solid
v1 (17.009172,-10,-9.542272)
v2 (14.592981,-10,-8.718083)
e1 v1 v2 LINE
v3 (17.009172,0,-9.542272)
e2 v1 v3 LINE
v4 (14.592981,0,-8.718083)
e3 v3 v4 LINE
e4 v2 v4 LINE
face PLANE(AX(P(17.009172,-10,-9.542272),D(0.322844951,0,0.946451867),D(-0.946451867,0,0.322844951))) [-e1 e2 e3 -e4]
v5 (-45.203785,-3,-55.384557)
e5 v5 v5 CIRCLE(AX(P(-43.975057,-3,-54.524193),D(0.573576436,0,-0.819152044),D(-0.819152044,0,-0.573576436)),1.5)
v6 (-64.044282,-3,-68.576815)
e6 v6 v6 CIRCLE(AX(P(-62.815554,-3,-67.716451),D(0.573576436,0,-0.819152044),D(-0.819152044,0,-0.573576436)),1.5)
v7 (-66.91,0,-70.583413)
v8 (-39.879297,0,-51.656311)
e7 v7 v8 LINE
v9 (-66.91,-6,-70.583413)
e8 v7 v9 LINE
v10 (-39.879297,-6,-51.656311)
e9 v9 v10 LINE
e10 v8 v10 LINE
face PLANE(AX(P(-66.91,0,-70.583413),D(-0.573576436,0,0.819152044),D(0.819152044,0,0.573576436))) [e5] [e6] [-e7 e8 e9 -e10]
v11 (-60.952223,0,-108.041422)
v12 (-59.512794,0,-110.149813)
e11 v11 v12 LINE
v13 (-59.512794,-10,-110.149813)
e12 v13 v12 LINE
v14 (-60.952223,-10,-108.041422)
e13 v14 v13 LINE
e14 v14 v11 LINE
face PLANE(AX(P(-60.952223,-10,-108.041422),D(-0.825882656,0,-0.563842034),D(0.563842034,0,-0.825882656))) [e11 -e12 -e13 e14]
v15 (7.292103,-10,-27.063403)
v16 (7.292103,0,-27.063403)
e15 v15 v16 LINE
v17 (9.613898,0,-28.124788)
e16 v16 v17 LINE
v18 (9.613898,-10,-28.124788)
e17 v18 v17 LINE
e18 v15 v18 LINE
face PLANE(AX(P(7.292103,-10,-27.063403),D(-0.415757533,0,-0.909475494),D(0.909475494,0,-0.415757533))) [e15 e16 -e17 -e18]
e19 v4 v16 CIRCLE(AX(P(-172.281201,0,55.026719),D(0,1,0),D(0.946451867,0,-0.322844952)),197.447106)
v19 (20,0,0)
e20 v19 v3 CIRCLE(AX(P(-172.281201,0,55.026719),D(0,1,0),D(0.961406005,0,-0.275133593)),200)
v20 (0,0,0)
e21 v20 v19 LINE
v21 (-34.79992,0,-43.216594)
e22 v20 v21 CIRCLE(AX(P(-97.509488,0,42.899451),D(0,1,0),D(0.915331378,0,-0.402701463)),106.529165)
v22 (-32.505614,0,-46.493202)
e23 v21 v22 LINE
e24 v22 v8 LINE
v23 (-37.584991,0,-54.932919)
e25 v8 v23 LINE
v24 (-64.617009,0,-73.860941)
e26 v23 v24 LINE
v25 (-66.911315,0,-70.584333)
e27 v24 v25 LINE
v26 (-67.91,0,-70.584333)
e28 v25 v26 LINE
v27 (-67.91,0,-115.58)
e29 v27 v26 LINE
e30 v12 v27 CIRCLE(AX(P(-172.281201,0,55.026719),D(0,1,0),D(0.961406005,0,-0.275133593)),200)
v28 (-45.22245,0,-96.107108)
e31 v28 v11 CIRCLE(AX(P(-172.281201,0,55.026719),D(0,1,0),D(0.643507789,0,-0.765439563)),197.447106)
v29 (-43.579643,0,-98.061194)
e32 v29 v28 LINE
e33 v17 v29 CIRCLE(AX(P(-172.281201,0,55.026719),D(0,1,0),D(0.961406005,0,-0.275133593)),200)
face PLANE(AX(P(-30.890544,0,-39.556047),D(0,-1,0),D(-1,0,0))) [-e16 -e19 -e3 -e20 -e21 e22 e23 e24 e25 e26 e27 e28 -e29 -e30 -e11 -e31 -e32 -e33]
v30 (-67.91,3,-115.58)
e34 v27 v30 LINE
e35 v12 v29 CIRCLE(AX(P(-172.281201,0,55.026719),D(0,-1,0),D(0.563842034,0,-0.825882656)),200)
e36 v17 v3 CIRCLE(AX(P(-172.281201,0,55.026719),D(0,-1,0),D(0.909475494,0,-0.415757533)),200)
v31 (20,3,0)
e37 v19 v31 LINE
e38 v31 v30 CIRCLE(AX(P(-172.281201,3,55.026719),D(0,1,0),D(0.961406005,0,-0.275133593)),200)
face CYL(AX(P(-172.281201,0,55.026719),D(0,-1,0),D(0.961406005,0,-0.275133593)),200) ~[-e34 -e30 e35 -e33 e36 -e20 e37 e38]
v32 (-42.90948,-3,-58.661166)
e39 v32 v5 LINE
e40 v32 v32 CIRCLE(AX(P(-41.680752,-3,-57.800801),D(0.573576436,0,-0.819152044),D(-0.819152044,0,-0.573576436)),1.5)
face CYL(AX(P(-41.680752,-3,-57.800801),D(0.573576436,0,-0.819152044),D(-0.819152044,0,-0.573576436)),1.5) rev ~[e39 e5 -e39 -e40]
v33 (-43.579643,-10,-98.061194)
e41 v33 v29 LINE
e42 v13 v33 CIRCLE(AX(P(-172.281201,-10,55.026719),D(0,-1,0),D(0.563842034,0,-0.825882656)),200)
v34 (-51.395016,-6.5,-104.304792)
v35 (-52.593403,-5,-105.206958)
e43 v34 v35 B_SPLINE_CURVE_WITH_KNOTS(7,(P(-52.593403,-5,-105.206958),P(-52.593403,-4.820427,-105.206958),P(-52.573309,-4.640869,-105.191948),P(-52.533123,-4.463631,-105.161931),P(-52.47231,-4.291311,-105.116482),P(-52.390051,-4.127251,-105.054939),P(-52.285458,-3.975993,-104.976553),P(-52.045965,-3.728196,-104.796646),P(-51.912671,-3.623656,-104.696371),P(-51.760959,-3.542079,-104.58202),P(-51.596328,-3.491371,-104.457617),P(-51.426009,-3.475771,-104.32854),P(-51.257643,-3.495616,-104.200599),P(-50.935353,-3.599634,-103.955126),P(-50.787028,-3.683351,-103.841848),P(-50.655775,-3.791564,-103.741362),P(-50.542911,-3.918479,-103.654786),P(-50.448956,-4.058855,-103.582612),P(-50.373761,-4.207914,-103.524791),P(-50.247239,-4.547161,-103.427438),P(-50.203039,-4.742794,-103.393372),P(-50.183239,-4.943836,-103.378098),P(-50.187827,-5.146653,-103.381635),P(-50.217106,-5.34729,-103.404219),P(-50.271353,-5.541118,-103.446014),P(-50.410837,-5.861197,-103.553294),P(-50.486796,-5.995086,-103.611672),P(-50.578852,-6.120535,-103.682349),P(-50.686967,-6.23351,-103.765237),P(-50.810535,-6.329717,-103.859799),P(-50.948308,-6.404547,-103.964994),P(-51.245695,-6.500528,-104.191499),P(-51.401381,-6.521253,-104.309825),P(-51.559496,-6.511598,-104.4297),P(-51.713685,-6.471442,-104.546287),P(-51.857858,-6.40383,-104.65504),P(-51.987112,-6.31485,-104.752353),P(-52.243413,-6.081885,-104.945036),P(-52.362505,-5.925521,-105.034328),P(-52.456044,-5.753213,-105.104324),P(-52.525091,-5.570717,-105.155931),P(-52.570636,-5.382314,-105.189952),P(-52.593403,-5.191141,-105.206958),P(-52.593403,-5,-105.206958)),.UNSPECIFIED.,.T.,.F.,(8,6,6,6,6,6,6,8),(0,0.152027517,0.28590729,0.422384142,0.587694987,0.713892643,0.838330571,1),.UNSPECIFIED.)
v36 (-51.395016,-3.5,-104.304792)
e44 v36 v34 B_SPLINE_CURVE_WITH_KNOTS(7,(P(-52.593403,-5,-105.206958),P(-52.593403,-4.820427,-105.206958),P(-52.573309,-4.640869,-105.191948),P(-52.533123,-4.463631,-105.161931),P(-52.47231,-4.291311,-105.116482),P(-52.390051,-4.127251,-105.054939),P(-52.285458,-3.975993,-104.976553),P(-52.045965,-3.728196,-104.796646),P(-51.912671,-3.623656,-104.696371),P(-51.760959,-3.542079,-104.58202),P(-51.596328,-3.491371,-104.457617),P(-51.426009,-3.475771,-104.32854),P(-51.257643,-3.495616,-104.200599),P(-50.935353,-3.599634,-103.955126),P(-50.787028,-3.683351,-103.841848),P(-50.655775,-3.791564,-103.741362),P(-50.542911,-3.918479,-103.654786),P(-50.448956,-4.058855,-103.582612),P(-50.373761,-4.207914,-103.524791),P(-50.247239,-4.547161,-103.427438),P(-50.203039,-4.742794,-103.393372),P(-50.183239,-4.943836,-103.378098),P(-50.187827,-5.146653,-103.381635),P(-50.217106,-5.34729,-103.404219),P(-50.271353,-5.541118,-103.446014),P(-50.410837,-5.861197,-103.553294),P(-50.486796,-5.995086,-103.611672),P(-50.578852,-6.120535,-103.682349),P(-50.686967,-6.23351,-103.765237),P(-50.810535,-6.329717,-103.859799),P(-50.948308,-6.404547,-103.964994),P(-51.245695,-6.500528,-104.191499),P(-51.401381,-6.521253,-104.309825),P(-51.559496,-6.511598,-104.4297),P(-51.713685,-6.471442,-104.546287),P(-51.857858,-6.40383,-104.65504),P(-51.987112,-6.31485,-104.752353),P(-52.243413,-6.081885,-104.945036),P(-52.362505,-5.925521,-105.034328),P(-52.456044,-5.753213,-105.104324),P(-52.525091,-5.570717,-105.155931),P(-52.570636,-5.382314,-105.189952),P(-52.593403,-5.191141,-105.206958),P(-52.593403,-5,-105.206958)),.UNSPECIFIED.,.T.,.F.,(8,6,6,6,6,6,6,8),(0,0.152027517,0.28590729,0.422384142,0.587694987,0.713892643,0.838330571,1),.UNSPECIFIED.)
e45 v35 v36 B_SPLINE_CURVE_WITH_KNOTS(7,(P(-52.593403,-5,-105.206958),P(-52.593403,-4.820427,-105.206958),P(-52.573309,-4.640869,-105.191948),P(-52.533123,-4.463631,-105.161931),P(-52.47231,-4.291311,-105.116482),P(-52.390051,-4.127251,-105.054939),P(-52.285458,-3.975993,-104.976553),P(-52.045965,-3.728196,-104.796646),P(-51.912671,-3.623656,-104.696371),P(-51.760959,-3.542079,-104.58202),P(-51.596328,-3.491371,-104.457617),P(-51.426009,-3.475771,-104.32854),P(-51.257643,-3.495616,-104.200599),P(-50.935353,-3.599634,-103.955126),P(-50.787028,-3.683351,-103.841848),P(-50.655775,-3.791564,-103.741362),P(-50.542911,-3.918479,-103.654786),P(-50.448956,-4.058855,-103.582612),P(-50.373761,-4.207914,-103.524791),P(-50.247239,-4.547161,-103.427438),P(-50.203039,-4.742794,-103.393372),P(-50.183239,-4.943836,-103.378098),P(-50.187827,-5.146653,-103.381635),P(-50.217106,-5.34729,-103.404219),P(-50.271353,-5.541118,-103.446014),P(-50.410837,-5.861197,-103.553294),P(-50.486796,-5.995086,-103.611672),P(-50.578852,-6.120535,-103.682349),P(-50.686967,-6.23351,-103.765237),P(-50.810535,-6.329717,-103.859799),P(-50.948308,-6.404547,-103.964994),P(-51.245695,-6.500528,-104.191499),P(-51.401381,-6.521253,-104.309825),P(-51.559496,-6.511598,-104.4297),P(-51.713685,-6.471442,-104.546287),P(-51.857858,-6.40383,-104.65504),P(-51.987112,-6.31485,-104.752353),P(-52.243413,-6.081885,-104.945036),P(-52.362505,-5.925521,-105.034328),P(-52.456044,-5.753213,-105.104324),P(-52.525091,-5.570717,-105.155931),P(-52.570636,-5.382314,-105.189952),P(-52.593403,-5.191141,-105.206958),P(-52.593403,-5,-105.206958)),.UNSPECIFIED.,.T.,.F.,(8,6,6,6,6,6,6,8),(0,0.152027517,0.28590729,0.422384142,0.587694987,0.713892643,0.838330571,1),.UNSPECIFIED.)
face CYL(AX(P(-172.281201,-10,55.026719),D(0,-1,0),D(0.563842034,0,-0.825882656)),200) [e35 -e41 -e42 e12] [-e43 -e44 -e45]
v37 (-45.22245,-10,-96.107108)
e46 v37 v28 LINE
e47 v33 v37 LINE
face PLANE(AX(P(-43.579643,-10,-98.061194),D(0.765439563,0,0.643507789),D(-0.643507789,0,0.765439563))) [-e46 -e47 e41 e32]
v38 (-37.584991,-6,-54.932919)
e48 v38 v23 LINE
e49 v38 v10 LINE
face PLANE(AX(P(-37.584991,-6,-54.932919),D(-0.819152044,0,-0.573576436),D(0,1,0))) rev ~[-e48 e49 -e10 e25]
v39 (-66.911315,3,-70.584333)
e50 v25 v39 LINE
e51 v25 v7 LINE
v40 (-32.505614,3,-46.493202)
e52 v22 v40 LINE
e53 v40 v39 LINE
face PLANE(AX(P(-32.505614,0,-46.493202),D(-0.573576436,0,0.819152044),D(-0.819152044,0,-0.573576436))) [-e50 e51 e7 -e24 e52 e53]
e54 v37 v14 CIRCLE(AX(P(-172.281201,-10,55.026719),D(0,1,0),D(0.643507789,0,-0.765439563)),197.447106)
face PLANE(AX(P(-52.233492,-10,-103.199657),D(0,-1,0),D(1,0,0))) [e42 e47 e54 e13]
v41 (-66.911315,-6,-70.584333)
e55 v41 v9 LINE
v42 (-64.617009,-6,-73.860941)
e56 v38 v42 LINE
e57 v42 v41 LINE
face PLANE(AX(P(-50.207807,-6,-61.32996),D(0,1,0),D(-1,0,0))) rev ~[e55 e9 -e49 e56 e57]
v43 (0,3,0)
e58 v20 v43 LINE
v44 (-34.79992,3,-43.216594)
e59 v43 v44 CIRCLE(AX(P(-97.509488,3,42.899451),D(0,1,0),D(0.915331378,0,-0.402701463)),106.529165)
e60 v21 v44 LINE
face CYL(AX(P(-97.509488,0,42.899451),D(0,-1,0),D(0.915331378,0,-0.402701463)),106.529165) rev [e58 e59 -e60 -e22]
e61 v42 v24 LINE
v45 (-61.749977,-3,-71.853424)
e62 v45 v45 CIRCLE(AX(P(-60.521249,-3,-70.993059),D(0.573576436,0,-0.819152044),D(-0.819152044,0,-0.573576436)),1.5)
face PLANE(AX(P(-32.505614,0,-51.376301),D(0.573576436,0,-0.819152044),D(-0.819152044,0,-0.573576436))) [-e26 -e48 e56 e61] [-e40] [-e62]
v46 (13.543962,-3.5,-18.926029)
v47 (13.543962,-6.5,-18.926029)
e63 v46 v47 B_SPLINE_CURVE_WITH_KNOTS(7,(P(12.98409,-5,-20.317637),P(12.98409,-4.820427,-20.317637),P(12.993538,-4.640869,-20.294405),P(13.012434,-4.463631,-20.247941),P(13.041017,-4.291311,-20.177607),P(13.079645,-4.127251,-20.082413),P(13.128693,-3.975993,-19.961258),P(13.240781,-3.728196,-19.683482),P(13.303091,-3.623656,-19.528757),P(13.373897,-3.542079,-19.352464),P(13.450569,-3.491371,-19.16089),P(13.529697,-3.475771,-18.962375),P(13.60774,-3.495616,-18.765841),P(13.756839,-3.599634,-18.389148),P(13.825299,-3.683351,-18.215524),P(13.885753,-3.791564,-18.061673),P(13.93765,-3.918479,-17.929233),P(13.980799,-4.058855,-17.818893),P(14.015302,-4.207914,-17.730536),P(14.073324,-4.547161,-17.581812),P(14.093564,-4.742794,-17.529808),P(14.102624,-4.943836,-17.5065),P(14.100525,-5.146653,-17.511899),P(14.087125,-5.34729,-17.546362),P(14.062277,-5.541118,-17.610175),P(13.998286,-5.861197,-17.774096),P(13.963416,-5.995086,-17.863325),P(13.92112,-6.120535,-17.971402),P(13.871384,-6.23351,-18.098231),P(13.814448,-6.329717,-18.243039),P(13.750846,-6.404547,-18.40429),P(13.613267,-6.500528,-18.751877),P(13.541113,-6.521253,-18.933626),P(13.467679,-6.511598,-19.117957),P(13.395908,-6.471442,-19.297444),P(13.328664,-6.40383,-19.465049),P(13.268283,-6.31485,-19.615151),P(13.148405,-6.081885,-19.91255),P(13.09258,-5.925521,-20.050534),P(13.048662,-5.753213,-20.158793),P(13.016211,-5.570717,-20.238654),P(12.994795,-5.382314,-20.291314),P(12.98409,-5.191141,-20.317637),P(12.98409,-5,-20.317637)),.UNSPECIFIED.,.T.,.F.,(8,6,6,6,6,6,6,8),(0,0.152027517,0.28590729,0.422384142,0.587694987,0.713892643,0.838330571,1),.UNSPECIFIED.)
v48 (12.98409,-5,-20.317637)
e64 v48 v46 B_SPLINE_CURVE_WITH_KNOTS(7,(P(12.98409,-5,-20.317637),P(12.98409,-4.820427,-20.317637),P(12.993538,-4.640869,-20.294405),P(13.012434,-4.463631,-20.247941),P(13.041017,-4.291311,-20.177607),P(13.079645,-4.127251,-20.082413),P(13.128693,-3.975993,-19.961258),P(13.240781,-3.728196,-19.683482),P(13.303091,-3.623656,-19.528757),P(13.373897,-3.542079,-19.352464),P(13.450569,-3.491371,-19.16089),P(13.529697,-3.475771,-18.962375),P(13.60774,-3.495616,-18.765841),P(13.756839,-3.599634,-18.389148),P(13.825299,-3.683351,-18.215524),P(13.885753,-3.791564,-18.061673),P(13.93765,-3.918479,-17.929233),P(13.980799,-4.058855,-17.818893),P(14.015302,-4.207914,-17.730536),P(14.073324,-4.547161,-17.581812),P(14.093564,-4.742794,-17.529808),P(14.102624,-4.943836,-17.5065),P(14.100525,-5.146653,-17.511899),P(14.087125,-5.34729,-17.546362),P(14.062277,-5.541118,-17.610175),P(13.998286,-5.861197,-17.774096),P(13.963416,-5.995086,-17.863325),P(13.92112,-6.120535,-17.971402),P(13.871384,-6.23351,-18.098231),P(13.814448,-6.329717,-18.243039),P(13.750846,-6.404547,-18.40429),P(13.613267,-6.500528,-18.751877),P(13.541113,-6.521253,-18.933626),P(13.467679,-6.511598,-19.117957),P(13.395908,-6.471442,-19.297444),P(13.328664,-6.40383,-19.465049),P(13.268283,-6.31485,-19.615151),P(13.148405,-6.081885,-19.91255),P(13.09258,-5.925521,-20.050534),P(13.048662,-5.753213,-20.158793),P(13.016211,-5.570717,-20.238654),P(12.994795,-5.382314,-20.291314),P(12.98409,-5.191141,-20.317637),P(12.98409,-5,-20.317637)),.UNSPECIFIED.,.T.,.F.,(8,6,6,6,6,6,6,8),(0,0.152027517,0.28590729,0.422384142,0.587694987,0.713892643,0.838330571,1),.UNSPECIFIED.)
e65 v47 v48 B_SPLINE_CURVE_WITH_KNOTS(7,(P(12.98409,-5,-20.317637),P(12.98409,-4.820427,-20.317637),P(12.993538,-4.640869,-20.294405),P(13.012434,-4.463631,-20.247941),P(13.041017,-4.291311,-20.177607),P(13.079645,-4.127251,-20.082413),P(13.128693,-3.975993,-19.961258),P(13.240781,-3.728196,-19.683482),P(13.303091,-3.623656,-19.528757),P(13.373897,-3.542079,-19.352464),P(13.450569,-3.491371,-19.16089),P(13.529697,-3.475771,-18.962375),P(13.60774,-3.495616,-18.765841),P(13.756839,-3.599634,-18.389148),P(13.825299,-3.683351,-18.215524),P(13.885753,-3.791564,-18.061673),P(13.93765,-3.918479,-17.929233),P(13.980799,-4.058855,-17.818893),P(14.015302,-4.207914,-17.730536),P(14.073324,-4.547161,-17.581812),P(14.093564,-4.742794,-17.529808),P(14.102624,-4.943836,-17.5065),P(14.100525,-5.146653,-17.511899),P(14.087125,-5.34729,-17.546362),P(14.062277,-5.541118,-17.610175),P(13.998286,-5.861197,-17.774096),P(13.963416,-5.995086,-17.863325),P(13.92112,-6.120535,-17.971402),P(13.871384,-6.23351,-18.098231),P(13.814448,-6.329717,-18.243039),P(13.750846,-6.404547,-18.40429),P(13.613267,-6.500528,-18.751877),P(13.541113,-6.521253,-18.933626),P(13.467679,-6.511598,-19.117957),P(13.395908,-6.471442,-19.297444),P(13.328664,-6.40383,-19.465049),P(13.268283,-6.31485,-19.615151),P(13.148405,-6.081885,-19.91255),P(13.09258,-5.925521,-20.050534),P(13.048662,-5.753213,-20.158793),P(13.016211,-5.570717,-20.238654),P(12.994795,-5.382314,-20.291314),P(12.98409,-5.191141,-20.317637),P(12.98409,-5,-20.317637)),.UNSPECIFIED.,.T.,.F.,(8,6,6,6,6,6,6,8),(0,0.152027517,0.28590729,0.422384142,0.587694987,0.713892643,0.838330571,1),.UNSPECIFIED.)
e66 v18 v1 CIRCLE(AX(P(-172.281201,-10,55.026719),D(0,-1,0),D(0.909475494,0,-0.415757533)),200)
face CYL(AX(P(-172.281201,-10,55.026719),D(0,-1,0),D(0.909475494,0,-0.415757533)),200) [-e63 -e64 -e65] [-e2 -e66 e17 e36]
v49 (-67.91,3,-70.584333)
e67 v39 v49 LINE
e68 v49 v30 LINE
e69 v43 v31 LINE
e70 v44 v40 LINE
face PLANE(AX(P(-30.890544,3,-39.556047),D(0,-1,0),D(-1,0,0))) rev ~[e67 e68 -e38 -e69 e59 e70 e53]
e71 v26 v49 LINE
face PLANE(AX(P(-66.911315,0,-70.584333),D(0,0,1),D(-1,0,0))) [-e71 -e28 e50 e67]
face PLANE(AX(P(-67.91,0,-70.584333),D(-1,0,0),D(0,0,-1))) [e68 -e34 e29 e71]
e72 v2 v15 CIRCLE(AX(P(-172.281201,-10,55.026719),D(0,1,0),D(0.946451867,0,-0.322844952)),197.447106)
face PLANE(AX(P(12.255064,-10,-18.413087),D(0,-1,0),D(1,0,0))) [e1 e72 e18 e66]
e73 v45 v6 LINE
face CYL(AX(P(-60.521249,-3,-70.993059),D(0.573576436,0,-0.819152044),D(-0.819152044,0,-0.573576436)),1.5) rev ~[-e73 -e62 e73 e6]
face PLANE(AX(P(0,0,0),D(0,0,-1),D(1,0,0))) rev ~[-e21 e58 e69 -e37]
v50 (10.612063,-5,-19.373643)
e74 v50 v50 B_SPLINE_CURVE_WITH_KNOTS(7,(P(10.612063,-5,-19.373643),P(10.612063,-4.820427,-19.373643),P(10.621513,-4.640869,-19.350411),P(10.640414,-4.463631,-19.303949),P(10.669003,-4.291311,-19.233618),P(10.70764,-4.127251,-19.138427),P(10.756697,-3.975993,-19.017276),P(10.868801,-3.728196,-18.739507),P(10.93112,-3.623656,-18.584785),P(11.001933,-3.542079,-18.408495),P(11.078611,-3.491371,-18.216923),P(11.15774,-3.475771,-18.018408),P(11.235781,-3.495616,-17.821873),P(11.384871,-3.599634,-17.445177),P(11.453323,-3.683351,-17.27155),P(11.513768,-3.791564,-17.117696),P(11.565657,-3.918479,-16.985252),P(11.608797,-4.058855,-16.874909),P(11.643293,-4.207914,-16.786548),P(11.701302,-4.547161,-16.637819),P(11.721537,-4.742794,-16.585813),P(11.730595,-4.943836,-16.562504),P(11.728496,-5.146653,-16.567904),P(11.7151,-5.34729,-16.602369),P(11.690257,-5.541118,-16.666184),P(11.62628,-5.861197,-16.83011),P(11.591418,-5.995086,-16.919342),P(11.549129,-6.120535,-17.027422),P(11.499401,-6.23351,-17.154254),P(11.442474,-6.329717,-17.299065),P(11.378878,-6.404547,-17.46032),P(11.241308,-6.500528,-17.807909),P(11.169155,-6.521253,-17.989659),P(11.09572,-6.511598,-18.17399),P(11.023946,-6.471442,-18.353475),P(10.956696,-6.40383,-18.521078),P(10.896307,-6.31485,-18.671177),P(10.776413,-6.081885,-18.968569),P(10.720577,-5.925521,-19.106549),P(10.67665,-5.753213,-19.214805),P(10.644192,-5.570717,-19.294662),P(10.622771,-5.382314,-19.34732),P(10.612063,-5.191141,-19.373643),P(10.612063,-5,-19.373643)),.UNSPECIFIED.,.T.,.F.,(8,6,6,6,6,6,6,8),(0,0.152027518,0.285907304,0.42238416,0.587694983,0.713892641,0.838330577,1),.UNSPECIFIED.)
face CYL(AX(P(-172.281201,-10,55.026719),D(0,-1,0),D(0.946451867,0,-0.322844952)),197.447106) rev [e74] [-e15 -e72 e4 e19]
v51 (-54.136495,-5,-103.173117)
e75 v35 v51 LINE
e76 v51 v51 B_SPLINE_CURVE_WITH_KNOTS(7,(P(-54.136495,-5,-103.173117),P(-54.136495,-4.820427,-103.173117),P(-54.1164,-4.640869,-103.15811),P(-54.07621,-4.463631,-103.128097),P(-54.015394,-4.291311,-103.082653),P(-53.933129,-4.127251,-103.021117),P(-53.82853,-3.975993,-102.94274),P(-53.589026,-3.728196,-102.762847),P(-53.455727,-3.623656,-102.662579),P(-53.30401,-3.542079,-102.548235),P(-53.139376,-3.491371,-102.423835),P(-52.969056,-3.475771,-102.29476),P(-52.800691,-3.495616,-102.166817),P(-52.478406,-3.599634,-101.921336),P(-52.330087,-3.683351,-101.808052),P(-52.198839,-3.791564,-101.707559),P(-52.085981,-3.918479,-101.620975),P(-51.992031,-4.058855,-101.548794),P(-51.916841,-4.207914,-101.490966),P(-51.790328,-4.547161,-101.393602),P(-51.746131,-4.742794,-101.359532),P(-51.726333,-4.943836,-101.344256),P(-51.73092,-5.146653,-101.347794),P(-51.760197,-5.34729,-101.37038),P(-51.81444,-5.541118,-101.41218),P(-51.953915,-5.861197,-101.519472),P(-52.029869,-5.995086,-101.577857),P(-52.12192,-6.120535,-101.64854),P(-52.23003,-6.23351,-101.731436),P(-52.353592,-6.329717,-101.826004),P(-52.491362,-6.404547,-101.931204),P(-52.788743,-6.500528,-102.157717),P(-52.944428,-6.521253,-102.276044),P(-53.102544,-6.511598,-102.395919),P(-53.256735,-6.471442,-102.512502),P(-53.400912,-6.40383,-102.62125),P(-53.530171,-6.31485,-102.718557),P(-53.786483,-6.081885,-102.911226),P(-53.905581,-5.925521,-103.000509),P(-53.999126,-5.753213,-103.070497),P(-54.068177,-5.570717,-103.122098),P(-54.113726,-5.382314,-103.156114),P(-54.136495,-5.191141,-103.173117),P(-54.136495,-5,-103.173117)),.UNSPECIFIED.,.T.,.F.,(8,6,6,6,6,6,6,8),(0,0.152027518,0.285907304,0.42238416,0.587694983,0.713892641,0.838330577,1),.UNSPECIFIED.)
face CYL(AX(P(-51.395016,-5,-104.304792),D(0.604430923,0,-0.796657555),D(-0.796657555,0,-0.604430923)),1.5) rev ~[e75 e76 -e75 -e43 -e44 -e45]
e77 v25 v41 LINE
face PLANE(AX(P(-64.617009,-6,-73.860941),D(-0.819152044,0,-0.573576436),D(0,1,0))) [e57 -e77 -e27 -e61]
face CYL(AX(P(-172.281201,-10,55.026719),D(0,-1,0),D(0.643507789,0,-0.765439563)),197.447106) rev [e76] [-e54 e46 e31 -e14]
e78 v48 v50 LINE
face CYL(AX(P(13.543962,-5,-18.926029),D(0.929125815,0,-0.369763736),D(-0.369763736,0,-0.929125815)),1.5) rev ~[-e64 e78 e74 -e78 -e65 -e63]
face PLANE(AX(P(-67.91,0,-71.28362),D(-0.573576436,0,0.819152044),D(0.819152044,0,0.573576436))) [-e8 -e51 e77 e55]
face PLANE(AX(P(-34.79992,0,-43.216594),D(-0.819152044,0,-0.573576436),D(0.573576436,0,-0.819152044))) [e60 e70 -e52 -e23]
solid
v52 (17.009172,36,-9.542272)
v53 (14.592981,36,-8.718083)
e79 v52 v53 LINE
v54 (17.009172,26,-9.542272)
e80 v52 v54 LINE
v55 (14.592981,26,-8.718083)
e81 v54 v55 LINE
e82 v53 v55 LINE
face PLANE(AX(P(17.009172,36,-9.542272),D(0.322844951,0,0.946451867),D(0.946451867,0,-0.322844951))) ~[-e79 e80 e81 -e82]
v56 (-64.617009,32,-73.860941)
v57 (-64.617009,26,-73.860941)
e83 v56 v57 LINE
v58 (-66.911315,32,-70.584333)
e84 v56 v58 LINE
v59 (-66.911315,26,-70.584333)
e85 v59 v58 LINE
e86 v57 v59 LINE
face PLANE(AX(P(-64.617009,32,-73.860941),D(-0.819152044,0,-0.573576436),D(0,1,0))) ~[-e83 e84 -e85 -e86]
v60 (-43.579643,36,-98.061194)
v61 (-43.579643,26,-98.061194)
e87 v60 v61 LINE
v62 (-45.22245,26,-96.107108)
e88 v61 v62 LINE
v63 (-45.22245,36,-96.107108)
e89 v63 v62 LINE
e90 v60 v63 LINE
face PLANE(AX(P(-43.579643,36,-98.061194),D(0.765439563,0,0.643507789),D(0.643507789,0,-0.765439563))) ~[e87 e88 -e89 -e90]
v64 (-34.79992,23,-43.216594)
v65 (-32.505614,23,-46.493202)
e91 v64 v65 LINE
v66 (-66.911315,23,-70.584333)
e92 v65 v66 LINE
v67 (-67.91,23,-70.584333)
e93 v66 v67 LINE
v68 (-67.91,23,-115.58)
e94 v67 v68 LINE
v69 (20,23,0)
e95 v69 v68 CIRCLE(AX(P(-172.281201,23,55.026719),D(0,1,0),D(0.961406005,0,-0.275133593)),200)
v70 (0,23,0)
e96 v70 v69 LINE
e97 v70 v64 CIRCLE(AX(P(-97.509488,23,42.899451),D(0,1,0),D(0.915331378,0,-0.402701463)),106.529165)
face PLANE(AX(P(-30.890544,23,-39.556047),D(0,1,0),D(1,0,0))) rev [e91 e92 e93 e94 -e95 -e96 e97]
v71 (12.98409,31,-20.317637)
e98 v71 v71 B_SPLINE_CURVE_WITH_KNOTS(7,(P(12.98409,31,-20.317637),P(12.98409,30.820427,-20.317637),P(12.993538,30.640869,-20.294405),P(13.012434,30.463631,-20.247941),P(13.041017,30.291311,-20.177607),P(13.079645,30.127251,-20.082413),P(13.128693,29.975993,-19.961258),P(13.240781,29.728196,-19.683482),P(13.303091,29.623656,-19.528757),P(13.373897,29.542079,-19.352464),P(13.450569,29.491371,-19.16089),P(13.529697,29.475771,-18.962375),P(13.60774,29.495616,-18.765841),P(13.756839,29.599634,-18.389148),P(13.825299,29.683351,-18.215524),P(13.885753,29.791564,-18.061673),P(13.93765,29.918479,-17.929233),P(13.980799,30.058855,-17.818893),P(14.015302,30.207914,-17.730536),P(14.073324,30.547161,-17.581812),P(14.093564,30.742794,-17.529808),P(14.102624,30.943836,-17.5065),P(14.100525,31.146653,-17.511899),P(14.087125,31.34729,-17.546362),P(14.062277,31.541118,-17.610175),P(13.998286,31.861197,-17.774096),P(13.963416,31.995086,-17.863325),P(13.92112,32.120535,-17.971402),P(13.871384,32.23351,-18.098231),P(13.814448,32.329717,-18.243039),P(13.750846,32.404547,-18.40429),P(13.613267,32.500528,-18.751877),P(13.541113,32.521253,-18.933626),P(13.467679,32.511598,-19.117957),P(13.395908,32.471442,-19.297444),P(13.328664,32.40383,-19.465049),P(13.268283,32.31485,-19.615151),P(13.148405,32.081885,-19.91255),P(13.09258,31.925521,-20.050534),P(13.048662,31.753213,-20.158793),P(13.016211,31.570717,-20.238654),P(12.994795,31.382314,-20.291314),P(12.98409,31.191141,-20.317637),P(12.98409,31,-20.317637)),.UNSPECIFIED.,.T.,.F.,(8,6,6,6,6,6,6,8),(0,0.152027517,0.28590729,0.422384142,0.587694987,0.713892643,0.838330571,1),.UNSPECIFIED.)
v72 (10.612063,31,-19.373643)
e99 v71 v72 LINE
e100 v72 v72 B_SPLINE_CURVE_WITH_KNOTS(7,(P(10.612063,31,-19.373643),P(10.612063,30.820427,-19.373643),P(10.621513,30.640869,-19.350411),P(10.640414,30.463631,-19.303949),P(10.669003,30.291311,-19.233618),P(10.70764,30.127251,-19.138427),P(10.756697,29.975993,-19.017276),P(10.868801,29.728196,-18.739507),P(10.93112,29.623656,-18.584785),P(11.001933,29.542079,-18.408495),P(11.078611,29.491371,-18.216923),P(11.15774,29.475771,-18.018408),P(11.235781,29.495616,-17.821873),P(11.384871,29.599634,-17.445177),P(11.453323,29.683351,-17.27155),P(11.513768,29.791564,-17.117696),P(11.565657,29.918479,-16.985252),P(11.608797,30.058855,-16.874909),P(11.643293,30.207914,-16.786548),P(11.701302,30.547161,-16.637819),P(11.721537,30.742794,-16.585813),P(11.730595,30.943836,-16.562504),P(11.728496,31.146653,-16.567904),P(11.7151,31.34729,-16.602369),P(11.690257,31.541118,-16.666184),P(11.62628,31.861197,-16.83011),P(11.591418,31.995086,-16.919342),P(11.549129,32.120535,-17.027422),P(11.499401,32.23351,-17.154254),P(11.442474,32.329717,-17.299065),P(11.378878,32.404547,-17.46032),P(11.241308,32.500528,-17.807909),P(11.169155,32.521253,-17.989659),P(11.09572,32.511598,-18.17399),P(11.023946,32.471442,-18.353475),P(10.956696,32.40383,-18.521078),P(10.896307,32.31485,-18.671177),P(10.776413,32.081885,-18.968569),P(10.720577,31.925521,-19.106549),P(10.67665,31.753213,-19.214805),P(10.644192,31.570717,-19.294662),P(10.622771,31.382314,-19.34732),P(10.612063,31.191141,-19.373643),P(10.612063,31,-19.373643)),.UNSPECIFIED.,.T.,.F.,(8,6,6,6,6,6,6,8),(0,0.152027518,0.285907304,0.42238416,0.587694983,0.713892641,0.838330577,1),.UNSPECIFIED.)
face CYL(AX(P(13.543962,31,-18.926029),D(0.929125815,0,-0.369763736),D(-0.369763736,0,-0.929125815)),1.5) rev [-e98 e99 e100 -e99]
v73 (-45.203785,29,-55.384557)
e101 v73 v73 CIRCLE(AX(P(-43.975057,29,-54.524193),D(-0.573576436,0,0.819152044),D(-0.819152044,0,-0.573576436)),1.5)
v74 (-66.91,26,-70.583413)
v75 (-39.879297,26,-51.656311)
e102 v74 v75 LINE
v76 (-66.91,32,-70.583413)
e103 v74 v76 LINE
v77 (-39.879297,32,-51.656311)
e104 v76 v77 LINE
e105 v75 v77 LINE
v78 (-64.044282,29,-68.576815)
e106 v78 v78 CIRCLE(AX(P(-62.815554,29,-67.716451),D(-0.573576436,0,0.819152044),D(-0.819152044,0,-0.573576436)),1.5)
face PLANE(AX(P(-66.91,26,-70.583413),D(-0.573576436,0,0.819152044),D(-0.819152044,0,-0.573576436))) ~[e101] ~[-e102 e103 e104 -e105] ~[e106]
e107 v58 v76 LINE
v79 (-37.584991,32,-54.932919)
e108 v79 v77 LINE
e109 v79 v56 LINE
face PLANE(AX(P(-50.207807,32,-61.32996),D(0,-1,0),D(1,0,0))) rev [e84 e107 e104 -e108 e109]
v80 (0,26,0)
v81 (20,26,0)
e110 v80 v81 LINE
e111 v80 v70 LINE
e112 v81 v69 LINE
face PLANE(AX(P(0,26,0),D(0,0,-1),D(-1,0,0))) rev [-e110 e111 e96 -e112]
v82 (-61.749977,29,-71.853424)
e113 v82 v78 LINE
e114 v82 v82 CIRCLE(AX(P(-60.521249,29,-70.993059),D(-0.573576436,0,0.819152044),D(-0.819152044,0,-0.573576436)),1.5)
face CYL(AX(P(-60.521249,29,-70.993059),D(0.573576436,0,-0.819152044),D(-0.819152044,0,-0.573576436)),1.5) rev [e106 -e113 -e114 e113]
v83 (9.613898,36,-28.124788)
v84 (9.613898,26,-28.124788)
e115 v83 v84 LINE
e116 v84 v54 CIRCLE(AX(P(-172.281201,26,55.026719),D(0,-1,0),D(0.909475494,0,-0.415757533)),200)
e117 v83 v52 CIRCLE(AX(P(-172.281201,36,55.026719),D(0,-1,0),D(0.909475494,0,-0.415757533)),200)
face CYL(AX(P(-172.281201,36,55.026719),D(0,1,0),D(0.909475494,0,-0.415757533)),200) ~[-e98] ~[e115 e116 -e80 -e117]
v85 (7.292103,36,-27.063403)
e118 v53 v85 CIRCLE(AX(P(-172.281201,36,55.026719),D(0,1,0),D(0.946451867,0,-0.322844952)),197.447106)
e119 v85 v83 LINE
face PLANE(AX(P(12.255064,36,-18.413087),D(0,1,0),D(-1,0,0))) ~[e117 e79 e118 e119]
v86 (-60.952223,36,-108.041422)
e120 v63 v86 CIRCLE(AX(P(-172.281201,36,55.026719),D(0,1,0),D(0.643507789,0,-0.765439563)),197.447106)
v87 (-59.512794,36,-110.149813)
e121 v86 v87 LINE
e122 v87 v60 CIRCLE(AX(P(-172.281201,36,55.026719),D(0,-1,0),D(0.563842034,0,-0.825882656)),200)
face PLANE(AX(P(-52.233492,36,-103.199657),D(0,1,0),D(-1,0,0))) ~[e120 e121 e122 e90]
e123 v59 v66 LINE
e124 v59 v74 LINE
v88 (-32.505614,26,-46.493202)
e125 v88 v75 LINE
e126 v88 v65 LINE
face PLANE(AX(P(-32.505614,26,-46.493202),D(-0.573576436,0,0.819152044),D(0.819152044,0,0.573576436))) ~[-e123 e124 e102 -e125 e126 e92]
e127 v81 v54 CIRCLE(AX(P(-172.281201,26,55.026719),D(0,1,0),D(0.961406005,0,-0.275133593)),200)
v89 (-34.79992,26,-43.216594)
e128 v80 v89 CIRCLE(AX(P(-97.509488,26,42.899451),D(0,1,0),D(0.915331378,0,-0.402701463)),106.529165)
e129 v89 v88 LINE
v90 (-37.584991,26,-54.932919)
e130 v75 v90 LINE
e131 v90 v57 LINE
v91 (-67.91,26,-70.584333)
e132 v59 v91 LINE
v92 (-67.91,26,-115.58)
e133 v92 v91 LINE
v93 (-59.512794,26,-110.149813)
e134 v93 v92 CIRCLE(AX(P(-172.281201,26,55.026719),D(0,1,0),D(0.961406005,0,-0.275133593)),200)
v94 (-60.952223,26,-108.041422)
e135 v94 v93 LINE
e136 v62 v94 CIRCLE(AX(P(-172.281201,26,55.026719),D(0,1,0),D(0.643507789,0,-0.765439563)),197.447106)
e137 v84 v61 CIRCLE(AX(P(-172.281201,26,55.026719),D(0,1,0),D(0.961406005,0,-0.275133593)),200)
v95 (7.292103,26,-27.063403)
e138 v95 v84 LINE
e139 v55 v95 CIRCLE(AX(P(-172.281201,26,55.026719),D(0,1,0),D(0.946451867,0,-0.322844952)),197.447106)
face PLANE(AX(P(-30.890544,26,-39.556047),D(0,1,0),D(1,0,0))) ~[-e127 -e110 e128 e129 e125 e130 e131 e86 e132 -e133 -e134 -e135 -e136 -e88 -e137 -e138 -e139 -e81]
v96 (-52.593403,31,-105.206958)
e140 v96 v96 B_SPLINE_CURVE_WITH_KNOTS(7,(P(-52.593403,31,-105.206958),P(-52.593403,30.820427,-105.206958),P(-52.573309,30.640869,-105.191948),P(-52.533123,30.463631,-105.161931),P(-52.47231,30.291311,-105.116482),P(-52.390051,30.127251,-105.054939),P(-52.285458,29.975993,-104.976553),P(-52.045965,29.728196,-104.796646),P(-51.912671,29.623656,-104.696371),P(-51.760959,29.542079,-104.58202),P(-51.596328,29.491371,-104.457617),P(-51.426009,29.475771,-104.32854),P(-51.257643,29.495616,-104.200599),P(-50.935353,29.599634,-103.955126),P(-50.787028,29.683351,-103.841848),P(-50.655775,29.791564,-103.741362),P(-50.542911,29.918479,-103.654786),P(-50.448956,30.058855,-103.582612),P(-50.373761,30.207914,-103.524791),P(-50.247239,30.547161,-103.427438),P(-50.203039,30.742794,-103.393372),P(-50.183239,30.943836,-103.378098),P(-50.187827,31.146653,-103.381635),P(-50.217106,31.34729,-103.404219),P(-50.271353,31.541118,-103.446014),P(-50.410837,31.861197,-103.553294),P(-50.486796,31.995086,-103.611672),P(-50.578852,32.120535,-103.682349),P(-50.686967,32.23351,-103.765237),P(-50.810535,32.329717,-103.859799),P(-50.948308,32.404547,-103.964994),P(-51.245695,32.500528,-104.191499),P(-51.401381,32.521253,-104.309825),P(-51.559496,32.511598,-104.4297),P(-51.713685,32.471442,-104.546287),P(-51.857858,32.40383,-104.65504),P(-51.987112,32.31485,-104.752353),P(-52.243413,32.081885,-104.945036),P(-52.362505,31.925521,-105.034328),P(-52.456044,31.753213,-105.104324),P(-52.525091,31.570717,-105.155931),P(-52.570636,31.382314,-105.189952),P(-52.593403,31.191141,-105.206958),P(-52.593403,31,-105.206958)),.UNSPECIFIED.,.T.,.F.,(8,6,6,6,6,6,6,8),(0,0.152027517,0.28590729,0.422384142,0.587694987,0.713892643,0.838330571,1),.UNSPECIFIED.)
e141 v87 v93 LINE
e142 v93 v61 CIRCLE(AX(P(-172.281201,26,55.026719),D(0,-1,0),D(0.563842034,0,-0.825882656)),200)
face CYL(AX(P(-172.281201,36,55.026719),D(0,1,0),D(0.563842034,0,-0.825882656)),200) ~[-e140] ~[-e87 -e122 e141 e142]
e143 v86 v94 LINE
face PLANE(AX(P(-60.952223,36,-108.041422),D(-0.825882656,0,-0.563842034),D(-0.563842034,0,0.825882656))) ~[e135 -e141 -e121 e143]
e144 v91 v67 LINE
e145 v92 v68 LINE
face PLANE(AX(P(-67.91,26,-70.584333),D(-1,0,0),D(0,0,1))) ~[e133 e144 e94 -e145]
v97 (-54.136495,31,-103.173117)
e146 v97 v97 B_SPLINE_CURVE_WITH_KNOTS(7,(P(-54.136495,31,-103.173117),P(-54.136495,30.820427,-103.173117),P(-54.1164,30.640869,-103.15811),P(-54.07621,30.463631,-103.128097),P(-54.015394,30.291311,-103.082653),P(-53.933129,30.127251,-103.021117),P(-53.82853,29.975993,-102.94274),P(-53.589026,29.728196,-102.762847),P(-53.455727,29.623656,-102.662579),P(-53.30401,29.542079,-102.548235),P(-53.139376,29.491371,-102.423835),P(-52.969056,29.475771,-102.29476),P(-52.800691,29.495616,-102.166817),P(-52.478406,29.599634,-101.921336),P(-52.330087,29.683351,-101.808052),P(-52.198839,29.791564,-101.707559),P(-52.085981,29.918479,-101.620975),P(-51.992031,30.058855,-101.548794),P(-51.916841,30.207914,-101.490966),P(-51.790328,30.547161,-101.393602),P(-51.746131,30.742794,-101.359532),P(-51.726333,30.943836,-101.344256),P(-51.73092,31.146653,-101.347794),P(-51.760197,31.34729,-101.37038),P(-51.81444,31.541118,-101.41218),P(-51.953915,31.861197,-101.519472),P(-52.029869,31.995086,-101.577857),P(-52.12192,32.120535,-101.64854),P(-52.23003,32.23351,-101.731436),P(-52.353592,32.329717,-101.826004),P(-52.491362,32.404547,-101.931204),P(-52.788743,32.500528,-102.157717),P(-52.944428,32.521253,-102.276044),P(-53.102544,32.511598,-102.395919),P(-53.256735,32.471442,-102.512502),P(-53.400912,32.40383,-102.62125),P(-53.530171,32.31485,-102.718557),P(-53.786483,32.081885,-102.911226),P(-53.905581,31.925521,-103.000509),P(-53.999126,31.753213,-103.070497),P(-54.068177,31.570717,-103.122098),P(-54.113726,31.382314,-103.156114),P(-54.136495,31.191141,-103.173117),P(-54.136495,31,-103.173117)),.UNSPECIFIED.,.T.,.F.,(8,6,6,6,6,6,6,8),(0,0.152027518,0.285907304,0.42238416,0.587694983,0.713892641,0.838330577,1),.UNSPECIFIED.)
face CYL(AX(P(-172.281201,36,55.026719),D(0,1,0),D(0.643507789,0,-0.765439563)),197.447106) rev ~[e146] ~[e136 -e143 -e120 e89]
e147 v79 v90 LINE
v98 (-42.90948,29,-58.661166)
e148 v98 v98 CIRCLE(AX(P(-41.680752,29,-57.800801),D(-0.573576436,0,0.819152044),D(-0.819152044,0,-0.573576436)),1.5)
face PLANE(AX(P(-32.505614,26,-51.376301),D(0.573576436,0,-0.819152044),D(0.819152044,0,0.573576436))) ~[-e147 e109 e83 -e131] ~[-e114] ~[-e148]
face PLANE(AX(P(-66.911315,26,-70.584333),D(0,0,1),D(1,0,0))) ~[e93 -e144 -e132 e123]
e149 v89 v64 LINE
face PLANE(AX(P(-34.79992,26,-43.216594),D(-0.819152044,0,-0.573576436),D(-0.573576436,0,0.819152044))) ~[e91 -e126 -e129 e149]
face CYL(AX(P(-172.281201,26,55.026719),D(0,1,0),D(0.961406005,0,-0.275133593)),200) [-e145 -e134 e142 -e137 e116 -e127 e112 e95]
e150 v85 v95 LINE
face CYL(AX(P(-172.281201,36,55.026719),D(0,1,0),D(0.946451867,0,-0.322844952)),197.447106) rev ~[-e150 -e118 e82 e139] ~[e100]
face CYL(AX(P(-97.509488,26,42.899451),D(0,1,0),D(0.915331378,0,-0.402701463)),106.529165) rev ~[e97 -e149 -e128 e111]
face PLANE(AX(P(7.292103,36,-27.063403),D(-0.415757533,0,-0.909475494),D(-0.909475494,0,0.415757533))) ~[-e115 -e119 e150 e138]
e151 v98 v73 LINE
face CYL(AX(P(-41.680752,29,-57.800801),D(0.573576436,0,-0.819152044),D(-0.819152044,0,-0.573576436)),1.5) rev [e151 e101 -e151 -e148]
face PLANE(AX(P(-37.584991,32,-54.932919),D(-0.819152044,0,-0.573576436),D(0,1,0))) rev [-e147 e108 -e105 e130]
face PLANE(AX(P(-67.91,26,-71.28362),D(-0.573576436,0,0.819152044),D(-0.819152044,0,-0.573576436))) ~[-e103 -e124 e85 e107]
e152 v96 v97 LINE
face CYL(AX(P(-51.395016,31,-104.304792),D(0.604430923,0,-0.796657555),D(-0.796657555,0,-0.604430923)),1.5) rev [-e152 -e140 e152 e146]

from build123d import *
from build123d.topology import SkipClean

# Parameters (mm, degrees)
BOSS_EXTRUDE1_DEPTH = 3
BOSS_EXTRUDE2_DEPTH = 6
SKETCH3_R           = 1.5
SKETCH3_W           = 9.001604742
SKETCH3_H           = 6
SKETCH3_W_2         = 4.02
CUT_EXTRUDE1_DEPTH  = 127.267442601
BOSS_EXTRUDE3_DEPTH = 3
BOSS_EXTRUDE4_START = 10
BOSS_EXTRUDE4_DEPTH = 10
SKETCH8_R           = 1.5
CUT_EXTRUDE2_DEPTH  = 128.065880874
SKETCH9_R           = 1.5
CUT_EXTRUDE3_DEPTH  = 139.749200001


with BuildPart() as part:
    # Sketch1 → Boss-Extrude1 (new body)
    with BuildSketch(Plane(origin=(0, 0, 0), x_dir=(1, 0, 0), z_dir=(0, 1, 0))):
        with BuildLine():
            Line((0, 0), (20, 0))
            ThreePointArc((20, 0), (-13.094687741, 66.050339598), (-67.91, 115.58))
            Line((-67.91, 115.58), (-67.91, 72.58))
            ThreePointArc((-67.91, 72.58), (-27.76846685, 42.078474321), (0, 0))
        make_face()
    extrude(amount=BOSS_EXTRUDE1_DEPTH)

    # Sketch2 → Boss-Extrude2 (add)
    with BuildSketch(Plane.XZ):
        Polygon((-66.91, -70.583412503), (-32.50561414, -46.493202176), (-32.50561414, -51.376300531), (-67.91, -76.166718396), (-67.91, -71.283620041), align=None)
    extrude(amount=BOSS_EXTRUDE2_DEPTH)

    # Sketch3 → Cut-Extrude1 (cut, through all)
    with BuildSketch(Plane(origin=(13.44494558, 0, -19.201372231), x_dir=(-0.8191520442889929, 0, -0.5735764363510446), z_dir=(0.5735764363510446, 0, -0.819152044288993))):
        with Locations((90.296050234, -3)):
            Circle(SKETCH3_R)
        with Locations((67.296050234, -3)):
            Circle(SKETCH3_R)
        with Locations((57.795247863, -3)):
            Rectangle(SKETCH3_W, SKETCH3_H)
        with Locations((97.306050234, -3)):
            Rectangle(SKETCH3_W_2, SKETCH3_H)
    extrude(amount=-CUT_EXTRUDE1_DEPTH, mode=Mode.SUBTRACT)

    # Sketch5 → Boss-Extrude3 (add)
    with BuildSketch(Plane(origin=(0, 0, 0), x_dir=(1, 0, 0), z_dir=(0, 1, 0))):
        with BuildLine():
            Line((-66.911314527, 70.584332945), (-67.91, 70.584332945))
            Line((-67.91, 70.584332945), (-67.91, 72.58))
            ThreePointArc((-67.91, 72.58), (-27.76846685, 42.078474321), (0, 0))
            ThreePointArc((0, 0), (-14.53687211, 23.913782415), (-34.799919885, 43.216593999))
            Line((-34.799919885, 43.216593999), (-32.50561414, 46.493202176))
            Line((-32.50561414, 46.493202176), (-66.911314527, 70.584332945))
        make_face()
    extrude(amount=BOSS_EXTRUDE3_DEPTH)

    # Sketch6 → Boss-Extrude4 (add)
    with SkipClean():  # the faces are left unmerged after this step: merging them gives an invalid solid
        with BuildSketch(Plane.XZ.offset(BOSS_EXTRUDE4_START)):
            with BuildLine():
                Line((17.009172499, -9.542271787), (14.592981256, -8.718082865))
                ThreePointArc((14.592981256, -8.718082865), (11.17200228, -17.982061111), (7.292103292, -27.06340319))
                Line((7.292103292, -27.06340319), (9.613897775, -28.124788079))
                ThreePointArc((9.613897775, -28.124788079), (13.543961948, -18.926028715), (17.009172499, -9.542271787))
            make_face()
            with BuildLine():
                Line((-43.579643128, -98.061194149), (-45.222450268, -96.107108121))
                ThreePointArc((-45.222450268, -96.107108121), (-52.938064428, -102.271010152), (-60.952223136, -108.041421776))
                Line((-60.952223136, -108.041421776), (-59.512794221, -110.149812608))
                ThreePointArc((-59.512794221, -110.149812608), (-51.395016384, -104.304792401), (-43.579643128, -98.061194149))
            make_face()
        extrude(amount=-BOSS_EXTRUDE4_DEPTH)

    # Sketch8 → Cut-Extrude2 (cut, through all)
    with SkipClean():  # the faces are left unmerged after this step: merging them gives an invalid solid
        with BuildSketch(Plane(origin=(-51.395016384, -10, -104.304792401), x_dir=(-0.7966575546498905, 0, -0.6044309229508835), z_dir=(0.6044309229508835, 0, -0.7966575546498905))):
            with Locations((0, 5)):
                Circle(SKETCH8_R)
        extrude(amount=-CUT_EXTRUDE2_DEPTH, mode=Mode.SUBTRACT)

    # Sketch9 → Cut-Extrude3 (cut, through all)
    with SkipClean():  # the faces are left unmerged after this step: merging them gives an invalid solid
        with BuildSketch(Plane(origin=(18.194331028, 0, -7.240788829), x_dir=(-0.3697637362221705, 0, -0.9291258146101751), z_dir=(0.9291258146101751, 0, -0.3697637362221705))):
            with Locations((12.576595874, -5)):
                Circle(SKETCH9_R)
        extrude(amount=-CUT_EXTRUDE3_DEPTH, mode=Mode.SUBTRACT)


with BuildPart() as body_2:
    # Mirror2: mirrored copy
    add(part.part.mirror(Plane.ZX.offset(13)))


solid = Compound([part.part, body_2.part])
